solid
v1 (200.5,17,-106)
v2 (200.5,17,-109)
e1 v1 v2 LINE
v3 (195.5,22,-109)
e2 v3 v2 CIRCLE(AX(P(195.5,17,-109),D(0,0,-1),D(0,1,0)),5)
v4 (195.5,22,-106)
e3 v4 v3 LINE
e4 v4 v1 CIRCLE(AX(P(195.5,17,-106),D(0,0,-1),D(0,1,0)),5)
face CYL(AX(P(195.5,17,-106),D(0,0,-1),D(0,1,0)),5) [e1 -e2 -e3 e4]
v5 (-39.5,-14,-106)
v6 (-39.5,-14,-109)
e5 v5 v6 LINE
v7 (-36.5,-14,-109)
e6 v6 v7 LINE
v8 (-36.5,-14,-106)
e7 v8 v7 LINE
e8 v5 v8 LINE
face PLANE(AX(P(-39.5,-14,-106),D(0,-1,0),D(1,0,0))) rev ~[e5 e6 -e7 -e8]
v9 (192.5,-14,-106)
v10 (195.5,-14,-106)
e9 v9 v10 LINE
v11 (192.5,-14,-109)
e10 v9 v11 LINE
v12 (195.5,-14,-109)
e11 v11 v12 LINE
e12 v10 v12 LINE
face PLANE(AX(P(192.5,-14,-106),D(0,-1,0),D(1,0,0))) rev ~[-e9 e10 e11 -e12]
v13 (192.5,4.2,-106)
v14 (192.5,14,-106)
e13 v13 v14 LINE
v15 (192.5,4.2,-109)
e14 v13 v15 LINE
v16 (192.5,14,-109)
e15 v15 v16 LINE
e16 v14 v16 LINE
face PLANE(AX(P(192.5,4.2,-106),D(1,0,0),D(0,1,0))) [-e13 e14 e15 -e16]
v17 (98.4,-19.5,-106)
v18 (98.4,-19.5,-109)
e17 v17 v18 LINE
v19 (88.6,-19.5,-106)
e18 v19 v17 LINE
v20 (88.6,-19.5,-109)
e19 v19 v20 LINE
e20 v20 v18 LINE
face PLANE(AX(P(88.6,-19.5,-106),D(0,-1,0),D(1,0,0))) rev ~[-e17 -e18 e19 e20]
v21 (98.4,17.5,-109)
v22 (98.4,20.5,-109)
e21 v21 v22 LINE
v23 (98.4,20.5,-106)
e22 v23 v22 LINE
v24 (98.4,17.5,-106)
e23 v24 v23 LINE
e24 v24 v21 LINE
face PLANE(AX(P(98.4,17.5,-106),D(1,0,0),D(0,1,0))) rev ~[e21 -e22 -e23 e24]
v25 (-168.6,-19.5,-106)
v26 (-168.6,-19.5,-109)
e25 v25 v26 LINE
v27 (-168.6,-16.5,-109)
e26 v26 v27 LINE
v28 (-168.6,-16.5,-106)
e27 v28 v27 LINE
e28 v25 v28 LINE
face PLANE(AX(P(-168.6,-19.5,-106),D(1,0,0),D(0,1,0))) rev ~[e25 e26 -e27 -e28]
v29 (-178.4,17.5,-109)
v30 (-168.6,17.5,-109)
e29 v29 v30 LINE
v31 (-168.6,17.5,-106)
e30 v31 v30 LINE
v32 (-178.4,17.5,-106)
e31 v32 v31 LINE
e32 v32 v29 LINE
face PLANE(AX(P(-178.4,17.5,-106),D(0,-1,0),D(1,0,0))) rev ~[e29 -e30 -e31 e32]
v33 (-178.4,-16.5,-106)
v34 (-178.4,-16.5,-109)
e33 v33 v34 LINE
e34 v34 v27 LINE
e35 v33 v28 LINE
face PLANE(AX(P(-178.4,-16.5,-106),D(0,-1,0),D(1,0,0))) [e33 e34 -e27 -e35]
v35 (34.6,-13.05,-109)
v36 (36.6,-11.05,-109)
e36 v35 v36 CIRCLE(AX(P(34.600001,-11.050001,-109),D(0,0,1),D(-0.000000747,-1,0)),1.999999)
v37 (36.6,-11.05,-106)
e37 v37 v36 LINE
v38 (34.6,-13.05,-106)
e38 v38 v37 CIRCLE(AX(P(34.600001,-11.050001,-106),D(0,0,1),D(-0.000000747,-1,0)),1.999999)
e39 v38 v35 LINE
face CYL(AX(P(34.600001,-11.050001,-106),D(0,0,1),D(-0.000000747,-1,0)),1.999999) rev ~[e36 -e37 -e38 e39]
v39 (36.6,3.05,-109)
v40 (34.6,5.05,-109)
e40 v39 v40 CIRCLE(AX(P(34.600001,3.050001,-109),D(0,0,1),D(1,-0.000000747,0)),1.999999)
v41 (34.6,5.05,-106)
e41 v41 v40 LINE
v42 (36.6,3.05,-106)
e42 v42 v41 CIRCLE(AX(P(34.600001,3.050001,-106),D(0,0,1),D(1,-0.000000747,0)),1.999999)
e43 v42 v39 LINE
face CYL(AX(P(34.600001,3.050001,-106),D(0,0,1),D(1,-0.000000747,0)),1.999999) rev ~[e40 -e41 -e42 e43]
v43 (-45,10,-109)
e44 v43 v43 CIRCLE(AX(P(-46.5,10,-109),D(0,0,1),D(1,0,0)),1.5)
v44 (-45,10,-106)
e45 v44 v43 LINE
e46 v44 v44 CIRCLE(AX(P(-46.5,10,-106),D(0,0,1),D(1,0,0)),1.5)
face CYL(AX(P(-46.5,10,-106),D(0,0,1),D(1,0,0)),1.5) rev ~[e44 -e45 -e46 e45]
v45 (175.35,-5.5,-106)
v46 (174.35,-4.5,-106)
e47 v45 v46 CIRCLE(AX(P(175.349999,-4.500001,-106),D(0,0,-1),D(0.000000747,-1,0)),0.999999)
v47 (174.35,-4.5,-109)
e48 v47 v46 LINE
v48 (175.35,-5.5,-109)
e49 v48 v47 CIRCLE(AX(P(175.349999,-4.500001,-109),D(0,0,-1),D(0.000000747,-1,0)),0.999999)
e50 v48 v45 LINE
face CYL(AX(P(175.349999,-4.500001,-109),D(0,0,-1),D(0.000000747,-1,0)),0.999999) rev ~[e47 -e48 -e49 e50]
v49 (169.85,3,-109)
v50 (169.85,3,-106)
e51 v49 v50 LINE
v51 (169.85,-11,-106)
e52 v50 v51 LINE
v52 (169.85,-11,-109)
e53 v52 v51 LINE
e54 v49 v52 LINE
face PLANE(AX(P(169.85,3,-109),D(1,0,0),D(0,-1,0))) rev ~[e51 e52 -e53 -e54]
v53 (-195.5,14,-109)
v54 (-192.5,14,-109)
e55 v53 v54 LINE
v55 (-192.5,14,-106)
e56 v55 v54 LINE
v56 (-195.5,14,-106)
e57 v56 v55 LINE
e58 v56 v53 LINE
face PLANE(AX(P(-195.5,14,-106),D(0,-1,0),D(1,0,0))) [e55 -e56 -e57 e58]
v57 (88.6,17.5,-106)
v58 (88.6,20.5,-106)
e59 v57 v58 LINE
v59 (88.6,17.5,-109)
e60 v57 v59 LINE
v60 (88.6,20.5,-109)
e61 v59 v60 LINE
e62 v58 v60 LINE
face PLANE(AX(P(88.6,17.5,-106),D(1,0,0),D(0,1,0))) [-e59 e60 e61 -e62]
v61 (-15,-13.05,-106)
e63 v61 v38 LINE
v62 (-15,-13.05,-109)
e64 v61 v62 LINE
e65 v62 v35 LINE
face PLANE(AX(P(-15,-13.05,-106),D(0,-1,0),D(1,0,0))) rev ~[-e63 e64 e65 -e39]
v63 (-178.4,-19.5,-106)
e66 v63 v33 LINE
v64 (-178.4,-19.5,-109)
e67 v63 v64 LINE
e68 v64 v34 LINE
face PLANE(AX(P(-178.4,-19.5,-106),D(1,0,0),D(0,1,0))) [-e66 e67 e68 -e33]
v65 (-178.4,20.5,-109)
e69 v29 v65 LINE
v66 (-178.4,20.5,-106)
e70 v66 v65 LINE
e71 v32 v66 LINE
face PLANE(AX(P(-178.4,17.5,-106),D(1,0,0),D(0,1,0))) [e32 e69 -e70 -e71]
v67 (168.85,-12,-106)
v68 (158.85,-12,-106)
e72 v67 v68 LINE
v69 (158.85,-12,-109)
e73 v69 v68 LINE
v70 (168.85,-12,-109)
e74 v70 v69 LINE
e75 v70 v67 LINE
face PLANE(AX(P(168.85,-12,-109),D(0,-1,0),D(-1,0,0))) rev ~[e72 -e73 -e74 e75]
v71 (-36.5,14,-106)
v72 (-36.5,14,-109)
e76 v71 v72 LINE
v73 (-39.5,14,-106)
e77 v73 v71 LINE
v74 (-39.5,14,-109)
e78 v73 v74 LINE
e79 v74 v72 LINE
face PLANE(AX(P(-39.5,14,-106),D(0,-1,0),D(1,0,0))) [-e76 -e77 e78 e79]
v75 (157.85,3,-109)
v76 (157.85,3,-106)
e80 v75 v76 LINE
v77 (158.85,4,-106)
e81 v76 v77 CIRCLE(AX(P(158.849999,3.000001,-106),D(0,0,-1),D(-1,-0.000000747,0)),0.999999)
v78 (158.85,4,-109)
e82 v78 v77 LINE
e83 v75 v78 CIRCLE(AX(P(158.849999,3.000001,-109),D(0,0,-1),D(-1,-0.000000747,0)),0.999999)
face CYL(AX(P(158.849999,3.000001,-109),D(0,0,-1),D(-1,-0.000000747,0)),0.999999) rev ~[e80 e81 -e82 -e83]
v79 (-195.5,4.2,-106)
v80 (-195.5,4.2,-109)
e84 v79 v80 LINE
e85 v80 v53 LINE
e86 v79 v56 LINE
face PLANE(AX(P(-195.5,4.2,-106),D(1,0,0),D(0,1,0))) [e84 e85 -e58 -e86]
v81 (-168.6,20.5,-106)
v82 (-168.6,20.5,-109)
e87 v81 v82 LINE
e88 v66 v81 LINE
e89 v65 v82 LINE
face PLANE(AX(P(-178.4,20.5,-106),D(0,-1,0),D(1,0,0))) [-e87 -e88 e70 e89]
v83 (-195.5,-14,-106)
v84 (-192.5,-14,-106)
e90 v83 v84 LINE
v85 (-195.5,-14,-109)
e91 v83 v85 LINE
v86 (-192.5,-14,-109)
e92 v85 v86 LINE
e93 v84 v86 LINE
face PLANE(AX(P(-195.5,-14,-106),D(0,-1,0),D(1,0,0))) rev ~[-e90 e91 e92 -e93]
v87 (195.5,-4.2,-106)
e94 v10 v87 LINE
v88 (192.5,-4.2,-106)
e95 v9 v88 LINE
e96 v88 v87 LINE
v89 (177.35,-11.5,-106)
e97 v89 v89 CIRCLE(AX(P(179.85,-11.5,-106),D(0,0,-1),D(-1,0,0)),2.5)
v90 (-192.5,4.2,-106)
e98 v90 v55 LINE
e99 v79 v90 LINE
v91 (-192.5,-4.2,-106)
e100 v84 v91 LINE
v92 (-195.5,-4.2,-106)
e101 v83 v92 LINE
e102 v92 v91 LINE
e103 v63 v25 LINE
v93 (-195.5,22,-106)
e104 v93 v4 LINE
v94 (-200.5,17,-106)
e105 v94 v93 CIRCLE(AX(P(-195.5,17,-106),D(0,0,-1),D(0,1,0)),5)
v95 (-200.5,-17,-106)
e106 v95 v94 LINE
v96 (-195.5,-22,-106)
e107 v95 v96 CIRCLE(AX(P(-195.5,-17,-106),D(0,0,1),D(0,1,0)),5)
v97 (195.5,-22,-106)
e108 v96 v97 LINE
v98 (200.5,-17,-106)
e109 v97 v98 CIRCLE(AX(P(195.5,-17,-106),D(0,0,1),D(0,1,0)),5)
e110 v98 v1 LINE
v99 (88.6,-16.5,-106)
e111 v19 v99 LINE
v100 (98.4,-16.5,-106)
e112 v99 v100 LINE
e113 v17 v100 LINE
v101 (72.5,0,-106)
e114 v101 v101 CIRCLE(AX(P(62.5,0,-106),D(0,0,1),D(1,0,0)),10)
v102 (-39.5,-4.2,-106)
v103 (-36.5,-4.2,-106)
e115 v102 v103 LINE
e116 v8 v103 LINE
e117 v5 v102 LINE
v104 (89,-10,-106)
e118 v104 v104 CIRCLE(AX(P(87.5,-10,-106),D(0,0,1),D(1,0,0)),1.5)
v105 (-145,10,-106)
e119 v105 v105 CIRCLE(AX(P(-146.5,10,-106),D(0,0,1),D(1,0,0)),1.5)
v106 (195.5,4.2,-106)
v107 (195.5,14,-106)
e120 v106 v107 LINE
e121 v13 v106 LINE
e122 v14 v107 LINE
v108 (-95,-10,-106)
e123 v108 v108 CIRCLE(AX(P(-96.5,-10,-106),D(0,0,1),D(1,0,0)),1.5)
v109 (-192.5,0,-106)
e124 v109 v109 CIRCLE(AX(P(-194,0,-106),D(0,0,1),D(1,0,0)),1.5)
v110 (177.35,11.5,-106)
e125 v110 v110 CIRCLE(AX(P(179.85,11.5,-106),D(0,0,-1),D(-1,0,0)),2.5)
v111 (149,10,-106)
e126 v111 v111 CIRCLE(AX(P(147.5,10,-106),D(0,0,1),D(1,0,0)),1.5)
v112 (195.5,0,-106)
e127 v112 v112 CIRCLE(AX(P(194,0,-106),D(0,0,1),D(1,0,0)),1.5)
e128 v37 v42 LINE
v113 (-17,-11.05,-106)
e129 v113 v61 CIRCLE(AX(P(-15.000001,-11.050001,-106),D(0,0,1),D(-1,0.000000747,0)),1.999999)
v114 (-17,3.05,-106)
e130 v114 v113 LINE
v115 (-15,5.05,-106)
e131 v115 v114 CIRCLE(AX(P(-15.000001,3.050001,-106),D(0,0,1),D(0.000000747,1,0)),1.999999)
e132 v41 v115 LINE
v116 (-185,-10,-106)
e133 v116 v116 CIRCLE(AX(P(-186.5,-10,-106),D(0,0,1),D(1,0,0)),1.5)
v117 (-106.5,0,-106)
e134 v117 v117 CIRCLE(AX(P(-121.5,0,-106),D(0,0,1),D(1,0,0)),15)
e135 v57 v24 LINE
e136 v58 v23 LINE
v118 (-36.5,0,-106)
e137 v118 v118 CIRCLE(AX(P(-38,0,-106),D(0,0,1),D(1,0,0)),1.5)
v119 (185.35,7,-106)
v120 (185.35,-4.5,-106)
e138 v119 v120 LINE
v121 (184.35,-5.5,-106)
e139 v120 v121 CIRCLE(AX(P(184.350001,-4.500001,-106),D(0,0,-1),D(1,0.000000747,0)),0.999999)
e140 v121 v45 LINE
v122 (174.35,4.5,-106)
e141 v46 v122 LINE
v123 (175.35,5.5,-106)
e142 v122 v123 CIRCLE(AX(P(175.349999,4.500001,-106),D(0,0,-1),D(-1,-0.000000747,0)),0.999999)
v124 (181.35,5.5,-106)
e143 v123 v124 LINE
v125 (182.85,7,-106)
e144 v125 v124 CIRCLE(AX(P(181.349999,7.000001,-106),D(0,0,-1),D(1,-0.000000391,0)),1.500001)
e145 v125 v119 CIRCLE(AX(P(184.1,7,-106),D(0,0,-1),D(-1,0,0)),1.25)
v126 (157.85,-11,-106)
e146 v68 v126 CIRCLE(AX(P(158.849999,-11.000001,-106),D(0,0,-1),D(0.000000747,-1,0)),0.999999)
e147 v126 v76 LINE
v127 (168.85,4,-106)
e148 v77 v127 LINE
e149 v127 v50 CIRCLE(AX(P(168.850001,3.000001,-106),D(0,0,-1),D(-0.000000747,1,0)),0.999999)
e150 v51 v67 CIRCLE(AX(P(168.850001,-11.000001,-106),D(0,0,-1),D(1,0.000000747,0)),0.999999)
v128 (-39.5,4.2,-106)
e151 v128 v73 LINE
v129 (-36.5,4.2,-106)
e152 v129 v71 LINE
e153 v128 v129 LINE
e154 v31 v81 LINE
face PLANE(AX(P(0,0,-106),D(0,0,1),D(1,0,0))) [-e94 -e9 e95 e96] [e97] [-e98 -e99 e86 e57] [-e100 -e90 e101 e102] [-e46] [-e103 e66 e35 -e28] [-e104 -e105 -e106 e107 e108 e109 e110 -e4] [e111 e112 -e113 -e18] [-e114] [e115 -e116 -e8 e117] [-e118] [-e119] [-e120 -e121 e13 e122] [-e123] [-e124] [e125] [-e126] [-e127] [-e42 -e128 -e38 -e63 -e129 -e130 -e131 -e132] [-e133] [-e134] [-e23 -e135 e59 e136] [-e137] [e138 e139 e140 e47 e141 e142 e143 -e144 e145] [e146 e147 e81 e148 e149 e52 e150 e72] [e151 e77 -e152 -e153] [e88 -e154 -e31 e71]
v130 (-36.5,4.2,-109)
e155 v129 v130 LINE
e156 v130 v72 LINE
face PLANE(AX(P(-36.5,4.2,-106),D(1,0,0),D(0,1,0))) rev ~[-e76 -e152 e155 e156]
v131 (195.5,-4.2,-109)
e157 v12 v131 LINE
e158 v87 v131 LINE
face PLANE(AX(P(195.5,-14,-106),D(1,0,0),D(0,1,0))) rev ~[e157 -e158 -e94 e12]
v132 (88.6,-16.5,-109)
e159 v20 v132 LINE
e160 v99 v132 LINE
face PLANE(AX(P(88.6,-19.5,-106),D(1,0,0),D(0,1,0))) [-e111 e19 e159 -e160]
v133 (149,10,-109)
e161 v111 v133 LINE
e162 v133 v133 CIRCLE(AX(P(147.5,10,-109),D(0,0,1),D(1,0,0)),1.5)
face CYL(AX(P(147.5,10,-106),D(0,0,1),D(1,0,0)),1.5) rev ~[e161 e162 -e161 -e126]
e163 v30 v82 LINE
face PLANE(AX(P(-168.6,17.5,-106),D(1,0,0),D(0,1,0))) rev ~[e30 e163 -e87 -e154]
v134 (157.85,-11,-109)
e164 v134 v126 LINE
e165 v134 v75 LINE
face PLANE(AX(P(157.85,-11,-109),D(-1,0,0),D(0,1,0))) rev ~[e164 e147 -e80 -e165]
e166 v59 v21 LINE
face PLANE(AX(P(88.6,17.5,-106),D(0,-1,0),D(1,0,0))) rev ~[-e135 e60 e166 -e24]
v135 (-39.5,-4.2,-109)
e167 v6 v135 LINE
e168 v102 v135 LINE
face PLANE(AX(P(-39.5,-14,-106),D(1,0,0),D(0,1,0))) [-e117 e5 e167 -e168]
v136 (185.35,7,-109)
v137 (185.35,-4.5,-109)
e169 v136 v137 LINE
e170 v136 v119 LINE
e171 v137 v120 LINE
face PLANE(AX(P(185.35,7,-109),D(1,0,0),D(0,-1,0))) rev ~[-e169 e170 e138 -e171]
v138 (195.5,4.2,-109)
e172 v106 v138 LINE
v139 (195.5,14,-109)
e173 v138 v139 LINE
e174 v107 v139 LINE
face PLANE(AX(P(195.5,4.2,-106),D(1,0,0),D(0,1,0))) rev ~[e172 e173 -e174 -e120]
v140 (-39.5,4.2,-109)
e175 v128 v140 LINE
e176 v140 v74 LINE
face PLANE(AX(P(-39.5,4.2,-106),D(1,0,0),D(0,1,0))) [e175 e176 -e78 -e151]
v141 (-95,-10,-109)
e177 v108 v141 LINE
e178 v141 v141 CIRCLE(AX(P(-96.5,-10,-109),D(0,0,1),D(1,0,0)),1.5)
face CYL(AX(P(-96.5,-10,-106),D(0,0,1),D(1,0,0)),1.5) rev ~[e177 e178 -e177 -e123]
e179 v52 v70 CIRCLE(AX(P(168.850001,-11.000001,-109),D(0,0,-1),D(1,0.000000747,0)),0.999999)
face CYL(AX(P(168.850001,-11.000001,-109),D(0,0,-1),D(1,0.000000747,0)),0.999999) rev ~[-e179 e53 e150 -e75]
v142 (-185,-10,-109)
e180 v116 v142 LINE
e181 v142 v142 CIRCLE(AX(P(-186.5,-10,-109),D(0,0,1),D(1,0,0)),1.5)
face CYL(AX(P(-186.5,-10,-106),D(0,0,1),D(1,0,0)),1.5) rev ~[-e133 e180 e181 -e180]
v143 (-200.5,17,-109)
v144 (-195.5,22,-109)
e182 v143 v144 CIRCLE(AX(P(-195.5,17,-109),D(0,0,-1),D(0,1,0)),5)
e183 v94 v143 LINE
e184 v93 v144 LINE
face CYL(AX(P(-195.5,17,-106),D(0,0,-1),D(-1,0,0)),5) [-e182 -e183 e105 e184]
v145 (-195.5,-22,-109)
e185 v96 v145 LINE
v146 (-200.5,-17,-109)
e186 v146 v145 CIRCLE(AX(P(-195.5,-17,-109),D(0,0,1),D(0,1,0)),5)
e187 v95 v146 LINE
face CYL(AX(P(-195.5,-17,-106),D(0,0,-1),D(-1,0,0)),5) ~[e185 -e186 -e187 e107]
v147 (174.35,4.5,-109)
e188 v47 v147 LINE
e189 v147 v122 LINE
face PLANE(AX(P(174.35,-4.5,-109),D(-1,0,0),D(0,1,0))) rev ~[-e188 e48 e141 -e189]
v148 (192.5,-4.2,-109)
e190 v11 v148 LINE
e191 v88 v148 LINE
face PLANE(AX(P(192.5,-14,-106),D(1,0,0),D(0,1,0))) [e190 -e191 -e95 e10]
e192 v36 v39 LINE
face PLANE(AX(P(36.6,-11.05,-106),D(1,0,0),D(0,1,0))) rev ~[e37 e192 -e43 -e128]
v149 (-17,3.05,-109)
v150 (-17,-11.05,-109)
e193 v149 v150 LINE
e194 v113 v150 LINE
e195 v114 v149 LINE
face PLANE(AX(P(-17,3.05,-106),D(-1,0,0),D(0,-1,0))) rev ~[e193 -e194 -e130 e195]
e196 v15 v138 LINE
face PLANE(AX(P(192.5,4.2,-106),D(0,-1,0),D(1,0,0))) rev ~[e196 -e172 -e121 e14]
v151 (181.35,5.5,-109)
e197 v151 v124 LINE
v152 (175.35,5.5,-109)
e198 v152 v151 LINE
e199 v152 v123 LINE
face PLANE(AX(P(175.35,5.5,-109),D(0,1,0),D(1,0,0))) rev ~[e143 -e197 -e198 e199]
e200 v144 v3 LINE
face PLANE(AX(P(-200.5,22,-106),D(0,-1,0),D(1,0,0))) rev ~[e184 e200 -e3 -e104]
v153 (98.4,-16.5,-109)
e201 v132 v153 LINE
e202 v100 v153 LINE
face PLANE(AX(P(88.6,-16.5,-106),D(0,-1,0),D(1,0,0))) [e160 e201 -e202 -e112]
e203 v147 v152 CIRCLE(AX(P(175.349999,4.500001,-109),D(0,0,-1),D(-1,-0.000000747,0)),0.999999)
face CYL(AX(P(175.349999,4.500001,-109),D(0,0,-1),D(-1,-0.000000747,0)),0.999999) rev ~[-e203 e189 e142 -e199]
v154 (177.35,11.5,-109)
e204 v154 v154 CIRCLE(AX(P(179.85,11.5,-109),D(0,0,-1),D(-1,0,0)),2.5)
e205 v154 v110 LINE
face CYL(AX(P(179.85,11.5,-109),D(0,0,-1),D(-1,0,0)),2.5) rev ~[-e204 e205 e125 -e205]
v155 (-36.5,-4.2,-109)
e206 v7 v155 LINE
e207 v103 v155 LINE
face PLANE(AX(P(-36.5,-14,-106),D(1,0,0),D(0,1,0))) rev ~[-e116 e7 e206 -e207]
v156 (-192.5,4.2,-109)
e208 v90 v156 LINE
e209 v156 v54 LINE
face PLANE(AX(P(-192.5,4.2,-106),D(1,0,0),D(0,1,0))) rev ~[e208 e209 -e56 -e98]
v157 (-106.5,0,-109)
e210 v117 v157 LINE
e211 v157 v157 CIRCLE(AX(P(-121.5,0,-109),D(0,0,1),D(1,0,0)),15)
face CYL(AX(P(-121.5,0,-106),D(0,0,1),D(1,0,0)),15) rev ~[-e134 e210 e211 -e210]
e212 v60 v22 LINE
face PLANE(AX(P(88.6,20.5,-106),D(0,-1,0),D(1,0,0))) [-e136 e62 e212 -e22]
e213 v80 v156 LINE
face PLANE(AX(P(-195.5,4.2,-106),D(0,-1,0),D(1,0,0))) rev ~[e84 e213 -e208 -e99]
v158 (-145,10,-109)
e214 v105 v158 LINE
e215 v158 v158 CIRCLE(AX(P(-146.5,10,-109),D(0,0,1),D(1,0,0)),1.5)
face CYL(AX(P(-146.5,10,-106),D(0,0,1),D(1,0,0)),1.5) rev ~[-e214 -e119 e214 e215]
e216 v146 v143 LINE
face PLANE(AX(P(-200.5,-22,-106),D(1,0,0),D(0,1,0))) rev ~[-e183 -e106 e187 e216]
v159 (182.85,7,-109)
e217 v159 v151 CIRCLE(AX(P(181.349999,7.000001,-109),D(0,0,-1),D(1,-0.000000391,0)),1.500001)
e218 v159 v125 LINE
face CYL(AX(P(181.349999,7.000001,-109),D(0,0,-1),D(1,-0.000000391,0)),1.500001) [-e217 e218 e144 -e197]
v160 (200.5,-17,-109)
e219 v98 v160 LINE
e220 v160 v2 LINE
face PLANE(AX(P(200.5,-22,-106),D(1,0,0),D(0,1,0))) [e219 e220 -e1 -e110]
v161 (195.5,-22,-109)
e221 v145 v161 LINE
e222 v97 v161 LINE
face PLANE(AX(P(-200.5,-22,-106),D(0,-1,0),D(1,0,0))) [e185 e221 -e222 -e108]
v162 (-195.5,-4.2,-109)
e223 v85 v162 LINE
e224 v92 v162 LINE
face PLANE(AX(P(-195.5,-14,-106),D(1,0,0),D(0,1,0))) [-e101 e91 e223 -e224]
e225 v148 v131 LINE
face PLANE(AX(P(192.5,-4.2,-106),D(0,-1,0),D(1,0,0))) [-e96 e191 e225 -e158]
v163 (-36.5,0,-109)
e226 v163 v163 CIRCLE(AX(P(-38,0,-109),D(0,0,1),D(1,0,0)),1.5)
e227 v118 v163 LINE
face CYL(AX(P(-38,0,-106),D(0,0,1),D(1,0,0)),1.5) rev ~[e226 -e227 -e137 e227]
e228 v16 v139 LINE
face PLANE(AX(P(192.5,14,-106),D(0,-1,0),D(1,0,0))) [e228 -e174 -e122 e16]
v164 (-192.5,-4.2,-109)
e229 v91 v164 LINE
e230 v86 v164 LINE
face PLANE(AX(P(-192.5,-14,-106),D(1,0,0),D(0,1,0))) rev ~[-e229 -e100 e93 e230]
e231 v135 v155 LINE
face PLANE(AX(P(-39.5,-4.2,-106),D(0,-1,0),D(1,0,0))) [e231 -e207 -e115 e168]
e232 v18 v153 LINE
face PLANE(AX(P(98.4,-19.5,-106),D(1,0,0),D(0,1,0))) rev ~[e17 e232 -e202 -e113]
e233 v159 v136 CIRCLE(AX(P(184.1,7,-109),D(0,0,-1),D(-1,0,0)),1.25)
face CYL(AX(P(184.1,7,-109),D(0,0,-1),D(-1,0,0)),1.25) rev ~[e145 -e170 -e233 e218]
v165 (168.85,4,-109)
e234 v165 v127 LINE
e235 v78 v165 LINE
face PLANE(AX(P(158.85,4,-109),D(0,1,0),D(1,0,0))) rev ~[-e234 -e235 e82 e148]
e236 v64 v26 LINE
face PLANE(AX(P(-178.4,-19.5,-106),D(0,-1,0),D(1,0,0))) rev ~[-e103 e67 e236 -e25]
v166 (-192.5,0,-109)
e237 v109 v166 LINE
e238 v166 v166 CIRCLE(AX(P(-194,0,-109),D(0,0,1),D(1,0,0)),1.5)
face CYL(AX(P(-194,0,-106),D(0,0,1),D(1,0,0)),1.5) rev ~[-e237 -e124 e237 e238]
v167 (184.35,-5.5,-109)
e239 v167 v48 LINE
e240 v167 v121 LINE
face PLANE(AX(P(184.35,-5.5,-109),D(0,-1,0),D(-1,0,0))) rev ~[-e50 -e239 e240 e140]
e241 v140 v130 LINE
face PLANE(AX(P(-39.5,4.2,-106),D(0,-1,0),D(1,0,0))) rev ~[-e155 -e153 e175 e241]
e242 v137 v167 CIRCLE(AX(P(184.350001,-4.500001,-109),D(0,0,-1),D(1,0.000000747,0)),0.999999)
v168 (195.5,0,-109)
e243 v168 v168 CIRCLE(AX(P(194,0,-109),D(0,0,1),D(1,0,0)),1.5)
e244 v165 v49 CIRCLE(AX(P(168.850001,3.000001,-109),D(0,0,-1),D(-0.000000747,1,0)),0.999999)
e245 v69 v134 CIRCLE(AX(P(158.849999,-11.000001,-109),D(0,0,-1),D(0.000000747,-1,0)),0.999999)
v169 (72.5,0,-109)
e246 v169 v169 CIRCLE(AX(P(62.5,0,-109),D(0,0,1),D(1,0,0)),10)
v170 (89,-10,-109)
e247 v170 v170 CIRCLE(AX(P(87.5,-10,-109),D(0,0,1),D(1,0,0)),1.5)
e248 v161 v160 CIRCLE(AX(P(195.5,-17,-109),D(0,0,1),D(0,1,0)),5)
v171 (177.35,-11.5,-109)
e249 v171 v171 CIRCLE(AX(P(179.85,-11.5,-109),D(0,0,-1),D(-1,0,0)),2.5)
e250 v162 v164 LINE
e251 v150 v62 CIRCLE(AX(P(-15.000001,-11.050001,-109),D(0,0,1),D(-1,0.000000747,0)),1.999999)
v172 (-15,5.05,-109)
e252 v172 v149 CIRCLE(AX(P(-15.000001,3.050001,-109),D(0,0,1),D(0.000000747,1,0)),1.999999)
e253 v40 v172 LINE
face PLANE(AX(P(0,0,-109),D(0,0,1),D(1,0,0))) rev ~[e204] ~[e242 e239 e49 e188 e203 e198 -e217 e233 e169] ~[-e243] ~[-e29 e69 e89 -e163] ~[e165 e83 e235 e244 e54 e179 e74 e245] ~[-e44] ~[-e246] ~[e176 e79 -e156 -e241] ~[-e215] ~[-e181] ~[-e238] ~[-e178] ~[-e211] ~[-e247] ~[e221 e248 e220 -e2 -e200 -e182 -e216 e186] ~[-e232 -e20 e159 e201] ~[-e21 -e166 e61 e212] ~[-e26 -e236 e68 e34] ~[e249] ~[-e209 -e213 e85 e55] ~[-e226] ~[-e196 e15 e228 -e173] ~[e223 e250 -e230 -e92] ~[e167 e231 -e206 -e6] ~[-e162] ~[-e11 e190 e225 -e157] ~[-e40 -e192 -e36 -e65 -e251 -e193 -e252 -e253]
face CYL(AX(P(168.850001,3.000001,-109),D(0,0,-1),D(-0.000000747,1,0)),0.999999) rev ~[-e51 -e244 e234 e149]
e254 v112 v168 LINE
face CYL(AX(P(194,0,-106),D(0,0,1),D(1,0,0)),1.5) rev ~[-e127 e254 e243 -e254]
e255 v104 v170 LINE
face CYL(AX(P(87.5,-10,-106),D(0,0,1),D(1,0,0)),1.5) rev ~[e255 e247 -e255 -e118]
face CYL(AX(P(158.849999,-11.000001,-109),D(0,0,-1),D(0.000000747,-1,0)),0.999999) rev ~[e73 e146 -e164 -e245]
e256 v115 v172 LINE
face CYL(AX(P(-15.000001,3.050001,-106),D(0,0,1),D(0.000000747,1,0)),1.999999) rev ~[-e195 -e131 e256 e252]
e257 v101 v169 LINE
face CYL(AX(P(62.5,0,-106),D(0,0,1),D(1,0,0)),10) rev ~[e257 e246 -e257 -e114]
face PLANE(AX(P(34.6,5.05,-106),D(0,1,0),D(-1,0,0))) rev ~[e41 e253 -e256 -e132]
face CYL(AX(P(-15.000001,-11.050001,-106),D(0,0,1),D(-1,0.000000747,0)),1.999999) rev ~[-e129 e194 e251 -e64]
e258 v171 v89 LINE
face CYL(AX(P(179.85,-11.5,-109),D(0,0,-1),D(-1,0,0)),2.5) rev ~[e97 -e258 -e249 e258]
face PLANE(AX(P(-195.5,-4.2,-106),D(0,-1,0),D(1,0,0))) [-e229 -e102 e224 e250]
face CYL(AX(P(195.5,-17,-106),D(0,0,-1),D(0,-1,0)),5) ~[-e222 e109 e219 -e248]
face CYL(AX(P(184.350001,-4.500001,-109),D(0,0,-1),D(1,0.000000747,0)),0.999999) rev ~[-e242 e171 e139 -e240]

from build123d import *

# Parameters (mm, degrees)
SKETCH001002010_W         = 401
SKETCH001002010_H         = 44
SKETCH001002010_R         = 1.5
SKETCH001002010_R_2       = 15
SKETCH001002010_R_3       = 10
SKETCH001002010_W_2       = 3
SKETCH001002010_H_2       = 9.8
SKETCH001002010_W_3       = 9.8
SKETCH001002010_H_3       = 3
PAD015_DEPTH              = 3
POCKET009_DEPTH           = 3
SKETCH001002027_R         = 2.5
POCKET010_DEPTH           = 3
FILLET028_R               = 5
FILLET028_PLACEMENT_ANGLE = 90


with BuildPart() as part:
    # Sketch001002010 → Pad015 (new body)
    with BuildSketch(Plane.XZ.offset(-106)):
        Rectangle(SKETCH001002010_W, SKETCH001002010_H)
        with Locations((-194, 0)):
            Circle(SKETCH001002010_R, mode=Mode.SUBTRACT)
        with Locations((194, 0)):
            Circle(SKETCH001002010_R, mode=Mode.SUBTRACT)
        with Locations((-121.5, 0)):
            Circle(SKETCH001002010_R_2, mode=Mode.SUBTRACT)
        with Locations((-146.5, 10)):
            Circle(SKETCH001002010_R, mode=Mode.SUBTRACT)
        with Locations((-186.5, -10)):
            Circle(SKETCH001002010_R, mode=Mode.SUBTRACT)
        with Locations((87.5, -10)):
            Circle(SKETCH001002010_R, mode=Mode.SUBTRACT)
        with Locations((147.5, 10)):
            Circle(SKETCH001002010_R, mode=Mode.SUBTRACT)
        with Locations((-38, 0)):
            Circle(SKETCH001002010_R, mode=Mode.SUBTRACT)
        with Locations((-96.5, -10)):
            Circle(SKETCH001002010_R, mode=Mode.SUBTRACT)
        with Locations((-46.5, 10)):
            Circle(SKETCH001002010_R, mode=Mode.SUBTRACT)
        with Locations((62.5, 0)):
            Circle(SKETCH001002010_R_3, mode=Mode.SUBTRACT)
        with Locations((194, 9.1)):
            Rectangle(SKETCH001002010_W_2, SKETCH001002010_H_2, mode=Mode.SUBTRACT)
        with Locations((194, -9.1)):
            Rectangle(SKETCH001002010_W_2, SKETCH001002010_H_2, mode=Mode.SUBTRACT)
        with Locations((-194, 9.1)):
            Rectangle(SKETCH001002010_W_2, SKETCH001002010_H_2, mode=Mode.SUBTRACT)
        with Locations((-194, -9.1)):
            Rectangle(SKETCH001002010_W_2, SKETCH001002010_H_2, mode=Mode.SUBTRACT)
        with Locations((-173.5, -18)):
            Rectangle(SKETCH001002010_W_3, SKETCH001002010_H_3, mode=Mode.SUBTRACT)
        with Locations((93.5, -18)):
            Rectangle(SKETCH001002010_W_3, SKETCH001002010_H_3, mode=Mode.SUBTRACT)
        with Locations((-173.5, 19)):
            Rectangle(SKETCH001002010_W_3, SKETCH001002010_H_3, mode=Mode.SUBTRACT)
        with Locations((93.5, 19)):
            Rectangle(SKETCH001002010_W_3, SKETCH001002010_H_3, mode=Mode.SUBTRACT)
        with Locations((-38, 9.1)):
            Rectangle(SKETCH001002010_W_2, SKETCH001002010_H_2, mode=Mode.SUBTRACT)
        with Locations((-38, -9.1)):
            Rectangle(SKETCH001002010_W_2, SKETCH001002010_H_2, mode=Mode.SUBTRACT)
    extrude(amount=-PAD015_DEPTH)

    # Sketch001002026 → Pocket009 (cut)
    with BuildSketch(Plane.XZ.offset(-106)):
        with BuildLine():
            Line((-17, 3.05), (-17, -11.05))
            ThreePointArc((-17, -11.05), (-16.414214, -12.464214), (-15, -13.05))
            Line((-15, -13.05), (34.6, -13.05))
            ThreePointArc((34.6, -13.05), (36.014214, -12.464214), (36.6, -11.05))
            Line((36.6, -11.05), (36.6, 3.05))
            ThreePointArc((36.6, 3.05), (36.014214, 4.464214), (34.6, 5.05))
            Line((34.6, 5.05), (-15, 5.05))
            ThreePointArc((-15, 5.05), (-16.414214, 4.464214), (-17, 3.05))
        make_face()
    extrude(amount=-POCKET009_DEPTH, mode=Mode.SUBTRACT)

    # Sketch001002027 → Pocket010 (cut)
    with BuildSketch(Plane(origin=(0, 109, 0), x_dir=(-1, 0, 0), z_dir=(0, 1, 0))):
        with Locations((-179.85, 11.5)):
            Circle(SKETCH001002027_R)
        with Locations((-179.85, -11.5)):
            Circle(SKETCH001002027_R)
        with BuildLine():
            Line((-185.35, 7), (-185.35, -4.5))
            ThreePointArc((-185.35, -4.5), (-185.057107, -5.207107), (-184.35, -5.5))
            Line((-184.35, -5.5), (-175.35, -5.5))
            ThreePointArc((-175.35, -5.5), (-174.642893, -5.207107), (-174.35, -4.5))
            Line((-174.35, -4.5), (-174.35, 4.5))
            ThreePointArc((-174.35, 4.5), (-174.642893, 5.207107), (-175.35, 5.5))
            Line((-175.35, 5.5), (-181.35, 5.5))
            ThreePointArc((-182.85, 7), (-182.41066, 5.93934), (-181.35, 5.5))
            ThreePointArc((-182.85, 7), (-184.1, 8.25), (-185.35, 7))
        make_face()
        with BuildLine():
            Line((-169.85, 3), (-169.85, -11))
            ThreePointArc((-169.85, -11), (-169.557107, -11.707107), (-168.85, -12))
            Line((-168.85, -12), (-158.85, -12))
            ThreePointArc((-158.85, -12), (-158.142893, -11.707107), (-157.85, -11))
            Line((-157.85, -11), (-157.85, 3))
            ThreePointArc((-157.85, 3), (-158.142893, 3.707107), (-158.85, 4))
            Line((-158.85, 4), (-168.85, 4))
            ThreePointArc((-168.85, 4), (-169.557107, 3.707107), (-169.85, 3))
        make_face()
    extrude(amount=-POCKET010_DEPTH, mode=Mode.SUBTRACT)

    # Fillet028
    fillet028_edges = [part.edges().sort_by_distance(p)[0] for p in [
        (-200.5, 107.5, 22),
        (200.5, 107.5, 22),
        (-200.5, 107.5, -22),
        (200.5, 107.5, -22),
    ]]
    fillet(fillet028_edges, radius=FILLET028_R)


with BuildPart() as part_1:
    # Fillet028 placement: moved
    add(part.part.rotate(Axis((0, 0, 0), (-1, 0, 0)), FILLET028_PLACEMENT_ANGLE))


solid = part_1.part
